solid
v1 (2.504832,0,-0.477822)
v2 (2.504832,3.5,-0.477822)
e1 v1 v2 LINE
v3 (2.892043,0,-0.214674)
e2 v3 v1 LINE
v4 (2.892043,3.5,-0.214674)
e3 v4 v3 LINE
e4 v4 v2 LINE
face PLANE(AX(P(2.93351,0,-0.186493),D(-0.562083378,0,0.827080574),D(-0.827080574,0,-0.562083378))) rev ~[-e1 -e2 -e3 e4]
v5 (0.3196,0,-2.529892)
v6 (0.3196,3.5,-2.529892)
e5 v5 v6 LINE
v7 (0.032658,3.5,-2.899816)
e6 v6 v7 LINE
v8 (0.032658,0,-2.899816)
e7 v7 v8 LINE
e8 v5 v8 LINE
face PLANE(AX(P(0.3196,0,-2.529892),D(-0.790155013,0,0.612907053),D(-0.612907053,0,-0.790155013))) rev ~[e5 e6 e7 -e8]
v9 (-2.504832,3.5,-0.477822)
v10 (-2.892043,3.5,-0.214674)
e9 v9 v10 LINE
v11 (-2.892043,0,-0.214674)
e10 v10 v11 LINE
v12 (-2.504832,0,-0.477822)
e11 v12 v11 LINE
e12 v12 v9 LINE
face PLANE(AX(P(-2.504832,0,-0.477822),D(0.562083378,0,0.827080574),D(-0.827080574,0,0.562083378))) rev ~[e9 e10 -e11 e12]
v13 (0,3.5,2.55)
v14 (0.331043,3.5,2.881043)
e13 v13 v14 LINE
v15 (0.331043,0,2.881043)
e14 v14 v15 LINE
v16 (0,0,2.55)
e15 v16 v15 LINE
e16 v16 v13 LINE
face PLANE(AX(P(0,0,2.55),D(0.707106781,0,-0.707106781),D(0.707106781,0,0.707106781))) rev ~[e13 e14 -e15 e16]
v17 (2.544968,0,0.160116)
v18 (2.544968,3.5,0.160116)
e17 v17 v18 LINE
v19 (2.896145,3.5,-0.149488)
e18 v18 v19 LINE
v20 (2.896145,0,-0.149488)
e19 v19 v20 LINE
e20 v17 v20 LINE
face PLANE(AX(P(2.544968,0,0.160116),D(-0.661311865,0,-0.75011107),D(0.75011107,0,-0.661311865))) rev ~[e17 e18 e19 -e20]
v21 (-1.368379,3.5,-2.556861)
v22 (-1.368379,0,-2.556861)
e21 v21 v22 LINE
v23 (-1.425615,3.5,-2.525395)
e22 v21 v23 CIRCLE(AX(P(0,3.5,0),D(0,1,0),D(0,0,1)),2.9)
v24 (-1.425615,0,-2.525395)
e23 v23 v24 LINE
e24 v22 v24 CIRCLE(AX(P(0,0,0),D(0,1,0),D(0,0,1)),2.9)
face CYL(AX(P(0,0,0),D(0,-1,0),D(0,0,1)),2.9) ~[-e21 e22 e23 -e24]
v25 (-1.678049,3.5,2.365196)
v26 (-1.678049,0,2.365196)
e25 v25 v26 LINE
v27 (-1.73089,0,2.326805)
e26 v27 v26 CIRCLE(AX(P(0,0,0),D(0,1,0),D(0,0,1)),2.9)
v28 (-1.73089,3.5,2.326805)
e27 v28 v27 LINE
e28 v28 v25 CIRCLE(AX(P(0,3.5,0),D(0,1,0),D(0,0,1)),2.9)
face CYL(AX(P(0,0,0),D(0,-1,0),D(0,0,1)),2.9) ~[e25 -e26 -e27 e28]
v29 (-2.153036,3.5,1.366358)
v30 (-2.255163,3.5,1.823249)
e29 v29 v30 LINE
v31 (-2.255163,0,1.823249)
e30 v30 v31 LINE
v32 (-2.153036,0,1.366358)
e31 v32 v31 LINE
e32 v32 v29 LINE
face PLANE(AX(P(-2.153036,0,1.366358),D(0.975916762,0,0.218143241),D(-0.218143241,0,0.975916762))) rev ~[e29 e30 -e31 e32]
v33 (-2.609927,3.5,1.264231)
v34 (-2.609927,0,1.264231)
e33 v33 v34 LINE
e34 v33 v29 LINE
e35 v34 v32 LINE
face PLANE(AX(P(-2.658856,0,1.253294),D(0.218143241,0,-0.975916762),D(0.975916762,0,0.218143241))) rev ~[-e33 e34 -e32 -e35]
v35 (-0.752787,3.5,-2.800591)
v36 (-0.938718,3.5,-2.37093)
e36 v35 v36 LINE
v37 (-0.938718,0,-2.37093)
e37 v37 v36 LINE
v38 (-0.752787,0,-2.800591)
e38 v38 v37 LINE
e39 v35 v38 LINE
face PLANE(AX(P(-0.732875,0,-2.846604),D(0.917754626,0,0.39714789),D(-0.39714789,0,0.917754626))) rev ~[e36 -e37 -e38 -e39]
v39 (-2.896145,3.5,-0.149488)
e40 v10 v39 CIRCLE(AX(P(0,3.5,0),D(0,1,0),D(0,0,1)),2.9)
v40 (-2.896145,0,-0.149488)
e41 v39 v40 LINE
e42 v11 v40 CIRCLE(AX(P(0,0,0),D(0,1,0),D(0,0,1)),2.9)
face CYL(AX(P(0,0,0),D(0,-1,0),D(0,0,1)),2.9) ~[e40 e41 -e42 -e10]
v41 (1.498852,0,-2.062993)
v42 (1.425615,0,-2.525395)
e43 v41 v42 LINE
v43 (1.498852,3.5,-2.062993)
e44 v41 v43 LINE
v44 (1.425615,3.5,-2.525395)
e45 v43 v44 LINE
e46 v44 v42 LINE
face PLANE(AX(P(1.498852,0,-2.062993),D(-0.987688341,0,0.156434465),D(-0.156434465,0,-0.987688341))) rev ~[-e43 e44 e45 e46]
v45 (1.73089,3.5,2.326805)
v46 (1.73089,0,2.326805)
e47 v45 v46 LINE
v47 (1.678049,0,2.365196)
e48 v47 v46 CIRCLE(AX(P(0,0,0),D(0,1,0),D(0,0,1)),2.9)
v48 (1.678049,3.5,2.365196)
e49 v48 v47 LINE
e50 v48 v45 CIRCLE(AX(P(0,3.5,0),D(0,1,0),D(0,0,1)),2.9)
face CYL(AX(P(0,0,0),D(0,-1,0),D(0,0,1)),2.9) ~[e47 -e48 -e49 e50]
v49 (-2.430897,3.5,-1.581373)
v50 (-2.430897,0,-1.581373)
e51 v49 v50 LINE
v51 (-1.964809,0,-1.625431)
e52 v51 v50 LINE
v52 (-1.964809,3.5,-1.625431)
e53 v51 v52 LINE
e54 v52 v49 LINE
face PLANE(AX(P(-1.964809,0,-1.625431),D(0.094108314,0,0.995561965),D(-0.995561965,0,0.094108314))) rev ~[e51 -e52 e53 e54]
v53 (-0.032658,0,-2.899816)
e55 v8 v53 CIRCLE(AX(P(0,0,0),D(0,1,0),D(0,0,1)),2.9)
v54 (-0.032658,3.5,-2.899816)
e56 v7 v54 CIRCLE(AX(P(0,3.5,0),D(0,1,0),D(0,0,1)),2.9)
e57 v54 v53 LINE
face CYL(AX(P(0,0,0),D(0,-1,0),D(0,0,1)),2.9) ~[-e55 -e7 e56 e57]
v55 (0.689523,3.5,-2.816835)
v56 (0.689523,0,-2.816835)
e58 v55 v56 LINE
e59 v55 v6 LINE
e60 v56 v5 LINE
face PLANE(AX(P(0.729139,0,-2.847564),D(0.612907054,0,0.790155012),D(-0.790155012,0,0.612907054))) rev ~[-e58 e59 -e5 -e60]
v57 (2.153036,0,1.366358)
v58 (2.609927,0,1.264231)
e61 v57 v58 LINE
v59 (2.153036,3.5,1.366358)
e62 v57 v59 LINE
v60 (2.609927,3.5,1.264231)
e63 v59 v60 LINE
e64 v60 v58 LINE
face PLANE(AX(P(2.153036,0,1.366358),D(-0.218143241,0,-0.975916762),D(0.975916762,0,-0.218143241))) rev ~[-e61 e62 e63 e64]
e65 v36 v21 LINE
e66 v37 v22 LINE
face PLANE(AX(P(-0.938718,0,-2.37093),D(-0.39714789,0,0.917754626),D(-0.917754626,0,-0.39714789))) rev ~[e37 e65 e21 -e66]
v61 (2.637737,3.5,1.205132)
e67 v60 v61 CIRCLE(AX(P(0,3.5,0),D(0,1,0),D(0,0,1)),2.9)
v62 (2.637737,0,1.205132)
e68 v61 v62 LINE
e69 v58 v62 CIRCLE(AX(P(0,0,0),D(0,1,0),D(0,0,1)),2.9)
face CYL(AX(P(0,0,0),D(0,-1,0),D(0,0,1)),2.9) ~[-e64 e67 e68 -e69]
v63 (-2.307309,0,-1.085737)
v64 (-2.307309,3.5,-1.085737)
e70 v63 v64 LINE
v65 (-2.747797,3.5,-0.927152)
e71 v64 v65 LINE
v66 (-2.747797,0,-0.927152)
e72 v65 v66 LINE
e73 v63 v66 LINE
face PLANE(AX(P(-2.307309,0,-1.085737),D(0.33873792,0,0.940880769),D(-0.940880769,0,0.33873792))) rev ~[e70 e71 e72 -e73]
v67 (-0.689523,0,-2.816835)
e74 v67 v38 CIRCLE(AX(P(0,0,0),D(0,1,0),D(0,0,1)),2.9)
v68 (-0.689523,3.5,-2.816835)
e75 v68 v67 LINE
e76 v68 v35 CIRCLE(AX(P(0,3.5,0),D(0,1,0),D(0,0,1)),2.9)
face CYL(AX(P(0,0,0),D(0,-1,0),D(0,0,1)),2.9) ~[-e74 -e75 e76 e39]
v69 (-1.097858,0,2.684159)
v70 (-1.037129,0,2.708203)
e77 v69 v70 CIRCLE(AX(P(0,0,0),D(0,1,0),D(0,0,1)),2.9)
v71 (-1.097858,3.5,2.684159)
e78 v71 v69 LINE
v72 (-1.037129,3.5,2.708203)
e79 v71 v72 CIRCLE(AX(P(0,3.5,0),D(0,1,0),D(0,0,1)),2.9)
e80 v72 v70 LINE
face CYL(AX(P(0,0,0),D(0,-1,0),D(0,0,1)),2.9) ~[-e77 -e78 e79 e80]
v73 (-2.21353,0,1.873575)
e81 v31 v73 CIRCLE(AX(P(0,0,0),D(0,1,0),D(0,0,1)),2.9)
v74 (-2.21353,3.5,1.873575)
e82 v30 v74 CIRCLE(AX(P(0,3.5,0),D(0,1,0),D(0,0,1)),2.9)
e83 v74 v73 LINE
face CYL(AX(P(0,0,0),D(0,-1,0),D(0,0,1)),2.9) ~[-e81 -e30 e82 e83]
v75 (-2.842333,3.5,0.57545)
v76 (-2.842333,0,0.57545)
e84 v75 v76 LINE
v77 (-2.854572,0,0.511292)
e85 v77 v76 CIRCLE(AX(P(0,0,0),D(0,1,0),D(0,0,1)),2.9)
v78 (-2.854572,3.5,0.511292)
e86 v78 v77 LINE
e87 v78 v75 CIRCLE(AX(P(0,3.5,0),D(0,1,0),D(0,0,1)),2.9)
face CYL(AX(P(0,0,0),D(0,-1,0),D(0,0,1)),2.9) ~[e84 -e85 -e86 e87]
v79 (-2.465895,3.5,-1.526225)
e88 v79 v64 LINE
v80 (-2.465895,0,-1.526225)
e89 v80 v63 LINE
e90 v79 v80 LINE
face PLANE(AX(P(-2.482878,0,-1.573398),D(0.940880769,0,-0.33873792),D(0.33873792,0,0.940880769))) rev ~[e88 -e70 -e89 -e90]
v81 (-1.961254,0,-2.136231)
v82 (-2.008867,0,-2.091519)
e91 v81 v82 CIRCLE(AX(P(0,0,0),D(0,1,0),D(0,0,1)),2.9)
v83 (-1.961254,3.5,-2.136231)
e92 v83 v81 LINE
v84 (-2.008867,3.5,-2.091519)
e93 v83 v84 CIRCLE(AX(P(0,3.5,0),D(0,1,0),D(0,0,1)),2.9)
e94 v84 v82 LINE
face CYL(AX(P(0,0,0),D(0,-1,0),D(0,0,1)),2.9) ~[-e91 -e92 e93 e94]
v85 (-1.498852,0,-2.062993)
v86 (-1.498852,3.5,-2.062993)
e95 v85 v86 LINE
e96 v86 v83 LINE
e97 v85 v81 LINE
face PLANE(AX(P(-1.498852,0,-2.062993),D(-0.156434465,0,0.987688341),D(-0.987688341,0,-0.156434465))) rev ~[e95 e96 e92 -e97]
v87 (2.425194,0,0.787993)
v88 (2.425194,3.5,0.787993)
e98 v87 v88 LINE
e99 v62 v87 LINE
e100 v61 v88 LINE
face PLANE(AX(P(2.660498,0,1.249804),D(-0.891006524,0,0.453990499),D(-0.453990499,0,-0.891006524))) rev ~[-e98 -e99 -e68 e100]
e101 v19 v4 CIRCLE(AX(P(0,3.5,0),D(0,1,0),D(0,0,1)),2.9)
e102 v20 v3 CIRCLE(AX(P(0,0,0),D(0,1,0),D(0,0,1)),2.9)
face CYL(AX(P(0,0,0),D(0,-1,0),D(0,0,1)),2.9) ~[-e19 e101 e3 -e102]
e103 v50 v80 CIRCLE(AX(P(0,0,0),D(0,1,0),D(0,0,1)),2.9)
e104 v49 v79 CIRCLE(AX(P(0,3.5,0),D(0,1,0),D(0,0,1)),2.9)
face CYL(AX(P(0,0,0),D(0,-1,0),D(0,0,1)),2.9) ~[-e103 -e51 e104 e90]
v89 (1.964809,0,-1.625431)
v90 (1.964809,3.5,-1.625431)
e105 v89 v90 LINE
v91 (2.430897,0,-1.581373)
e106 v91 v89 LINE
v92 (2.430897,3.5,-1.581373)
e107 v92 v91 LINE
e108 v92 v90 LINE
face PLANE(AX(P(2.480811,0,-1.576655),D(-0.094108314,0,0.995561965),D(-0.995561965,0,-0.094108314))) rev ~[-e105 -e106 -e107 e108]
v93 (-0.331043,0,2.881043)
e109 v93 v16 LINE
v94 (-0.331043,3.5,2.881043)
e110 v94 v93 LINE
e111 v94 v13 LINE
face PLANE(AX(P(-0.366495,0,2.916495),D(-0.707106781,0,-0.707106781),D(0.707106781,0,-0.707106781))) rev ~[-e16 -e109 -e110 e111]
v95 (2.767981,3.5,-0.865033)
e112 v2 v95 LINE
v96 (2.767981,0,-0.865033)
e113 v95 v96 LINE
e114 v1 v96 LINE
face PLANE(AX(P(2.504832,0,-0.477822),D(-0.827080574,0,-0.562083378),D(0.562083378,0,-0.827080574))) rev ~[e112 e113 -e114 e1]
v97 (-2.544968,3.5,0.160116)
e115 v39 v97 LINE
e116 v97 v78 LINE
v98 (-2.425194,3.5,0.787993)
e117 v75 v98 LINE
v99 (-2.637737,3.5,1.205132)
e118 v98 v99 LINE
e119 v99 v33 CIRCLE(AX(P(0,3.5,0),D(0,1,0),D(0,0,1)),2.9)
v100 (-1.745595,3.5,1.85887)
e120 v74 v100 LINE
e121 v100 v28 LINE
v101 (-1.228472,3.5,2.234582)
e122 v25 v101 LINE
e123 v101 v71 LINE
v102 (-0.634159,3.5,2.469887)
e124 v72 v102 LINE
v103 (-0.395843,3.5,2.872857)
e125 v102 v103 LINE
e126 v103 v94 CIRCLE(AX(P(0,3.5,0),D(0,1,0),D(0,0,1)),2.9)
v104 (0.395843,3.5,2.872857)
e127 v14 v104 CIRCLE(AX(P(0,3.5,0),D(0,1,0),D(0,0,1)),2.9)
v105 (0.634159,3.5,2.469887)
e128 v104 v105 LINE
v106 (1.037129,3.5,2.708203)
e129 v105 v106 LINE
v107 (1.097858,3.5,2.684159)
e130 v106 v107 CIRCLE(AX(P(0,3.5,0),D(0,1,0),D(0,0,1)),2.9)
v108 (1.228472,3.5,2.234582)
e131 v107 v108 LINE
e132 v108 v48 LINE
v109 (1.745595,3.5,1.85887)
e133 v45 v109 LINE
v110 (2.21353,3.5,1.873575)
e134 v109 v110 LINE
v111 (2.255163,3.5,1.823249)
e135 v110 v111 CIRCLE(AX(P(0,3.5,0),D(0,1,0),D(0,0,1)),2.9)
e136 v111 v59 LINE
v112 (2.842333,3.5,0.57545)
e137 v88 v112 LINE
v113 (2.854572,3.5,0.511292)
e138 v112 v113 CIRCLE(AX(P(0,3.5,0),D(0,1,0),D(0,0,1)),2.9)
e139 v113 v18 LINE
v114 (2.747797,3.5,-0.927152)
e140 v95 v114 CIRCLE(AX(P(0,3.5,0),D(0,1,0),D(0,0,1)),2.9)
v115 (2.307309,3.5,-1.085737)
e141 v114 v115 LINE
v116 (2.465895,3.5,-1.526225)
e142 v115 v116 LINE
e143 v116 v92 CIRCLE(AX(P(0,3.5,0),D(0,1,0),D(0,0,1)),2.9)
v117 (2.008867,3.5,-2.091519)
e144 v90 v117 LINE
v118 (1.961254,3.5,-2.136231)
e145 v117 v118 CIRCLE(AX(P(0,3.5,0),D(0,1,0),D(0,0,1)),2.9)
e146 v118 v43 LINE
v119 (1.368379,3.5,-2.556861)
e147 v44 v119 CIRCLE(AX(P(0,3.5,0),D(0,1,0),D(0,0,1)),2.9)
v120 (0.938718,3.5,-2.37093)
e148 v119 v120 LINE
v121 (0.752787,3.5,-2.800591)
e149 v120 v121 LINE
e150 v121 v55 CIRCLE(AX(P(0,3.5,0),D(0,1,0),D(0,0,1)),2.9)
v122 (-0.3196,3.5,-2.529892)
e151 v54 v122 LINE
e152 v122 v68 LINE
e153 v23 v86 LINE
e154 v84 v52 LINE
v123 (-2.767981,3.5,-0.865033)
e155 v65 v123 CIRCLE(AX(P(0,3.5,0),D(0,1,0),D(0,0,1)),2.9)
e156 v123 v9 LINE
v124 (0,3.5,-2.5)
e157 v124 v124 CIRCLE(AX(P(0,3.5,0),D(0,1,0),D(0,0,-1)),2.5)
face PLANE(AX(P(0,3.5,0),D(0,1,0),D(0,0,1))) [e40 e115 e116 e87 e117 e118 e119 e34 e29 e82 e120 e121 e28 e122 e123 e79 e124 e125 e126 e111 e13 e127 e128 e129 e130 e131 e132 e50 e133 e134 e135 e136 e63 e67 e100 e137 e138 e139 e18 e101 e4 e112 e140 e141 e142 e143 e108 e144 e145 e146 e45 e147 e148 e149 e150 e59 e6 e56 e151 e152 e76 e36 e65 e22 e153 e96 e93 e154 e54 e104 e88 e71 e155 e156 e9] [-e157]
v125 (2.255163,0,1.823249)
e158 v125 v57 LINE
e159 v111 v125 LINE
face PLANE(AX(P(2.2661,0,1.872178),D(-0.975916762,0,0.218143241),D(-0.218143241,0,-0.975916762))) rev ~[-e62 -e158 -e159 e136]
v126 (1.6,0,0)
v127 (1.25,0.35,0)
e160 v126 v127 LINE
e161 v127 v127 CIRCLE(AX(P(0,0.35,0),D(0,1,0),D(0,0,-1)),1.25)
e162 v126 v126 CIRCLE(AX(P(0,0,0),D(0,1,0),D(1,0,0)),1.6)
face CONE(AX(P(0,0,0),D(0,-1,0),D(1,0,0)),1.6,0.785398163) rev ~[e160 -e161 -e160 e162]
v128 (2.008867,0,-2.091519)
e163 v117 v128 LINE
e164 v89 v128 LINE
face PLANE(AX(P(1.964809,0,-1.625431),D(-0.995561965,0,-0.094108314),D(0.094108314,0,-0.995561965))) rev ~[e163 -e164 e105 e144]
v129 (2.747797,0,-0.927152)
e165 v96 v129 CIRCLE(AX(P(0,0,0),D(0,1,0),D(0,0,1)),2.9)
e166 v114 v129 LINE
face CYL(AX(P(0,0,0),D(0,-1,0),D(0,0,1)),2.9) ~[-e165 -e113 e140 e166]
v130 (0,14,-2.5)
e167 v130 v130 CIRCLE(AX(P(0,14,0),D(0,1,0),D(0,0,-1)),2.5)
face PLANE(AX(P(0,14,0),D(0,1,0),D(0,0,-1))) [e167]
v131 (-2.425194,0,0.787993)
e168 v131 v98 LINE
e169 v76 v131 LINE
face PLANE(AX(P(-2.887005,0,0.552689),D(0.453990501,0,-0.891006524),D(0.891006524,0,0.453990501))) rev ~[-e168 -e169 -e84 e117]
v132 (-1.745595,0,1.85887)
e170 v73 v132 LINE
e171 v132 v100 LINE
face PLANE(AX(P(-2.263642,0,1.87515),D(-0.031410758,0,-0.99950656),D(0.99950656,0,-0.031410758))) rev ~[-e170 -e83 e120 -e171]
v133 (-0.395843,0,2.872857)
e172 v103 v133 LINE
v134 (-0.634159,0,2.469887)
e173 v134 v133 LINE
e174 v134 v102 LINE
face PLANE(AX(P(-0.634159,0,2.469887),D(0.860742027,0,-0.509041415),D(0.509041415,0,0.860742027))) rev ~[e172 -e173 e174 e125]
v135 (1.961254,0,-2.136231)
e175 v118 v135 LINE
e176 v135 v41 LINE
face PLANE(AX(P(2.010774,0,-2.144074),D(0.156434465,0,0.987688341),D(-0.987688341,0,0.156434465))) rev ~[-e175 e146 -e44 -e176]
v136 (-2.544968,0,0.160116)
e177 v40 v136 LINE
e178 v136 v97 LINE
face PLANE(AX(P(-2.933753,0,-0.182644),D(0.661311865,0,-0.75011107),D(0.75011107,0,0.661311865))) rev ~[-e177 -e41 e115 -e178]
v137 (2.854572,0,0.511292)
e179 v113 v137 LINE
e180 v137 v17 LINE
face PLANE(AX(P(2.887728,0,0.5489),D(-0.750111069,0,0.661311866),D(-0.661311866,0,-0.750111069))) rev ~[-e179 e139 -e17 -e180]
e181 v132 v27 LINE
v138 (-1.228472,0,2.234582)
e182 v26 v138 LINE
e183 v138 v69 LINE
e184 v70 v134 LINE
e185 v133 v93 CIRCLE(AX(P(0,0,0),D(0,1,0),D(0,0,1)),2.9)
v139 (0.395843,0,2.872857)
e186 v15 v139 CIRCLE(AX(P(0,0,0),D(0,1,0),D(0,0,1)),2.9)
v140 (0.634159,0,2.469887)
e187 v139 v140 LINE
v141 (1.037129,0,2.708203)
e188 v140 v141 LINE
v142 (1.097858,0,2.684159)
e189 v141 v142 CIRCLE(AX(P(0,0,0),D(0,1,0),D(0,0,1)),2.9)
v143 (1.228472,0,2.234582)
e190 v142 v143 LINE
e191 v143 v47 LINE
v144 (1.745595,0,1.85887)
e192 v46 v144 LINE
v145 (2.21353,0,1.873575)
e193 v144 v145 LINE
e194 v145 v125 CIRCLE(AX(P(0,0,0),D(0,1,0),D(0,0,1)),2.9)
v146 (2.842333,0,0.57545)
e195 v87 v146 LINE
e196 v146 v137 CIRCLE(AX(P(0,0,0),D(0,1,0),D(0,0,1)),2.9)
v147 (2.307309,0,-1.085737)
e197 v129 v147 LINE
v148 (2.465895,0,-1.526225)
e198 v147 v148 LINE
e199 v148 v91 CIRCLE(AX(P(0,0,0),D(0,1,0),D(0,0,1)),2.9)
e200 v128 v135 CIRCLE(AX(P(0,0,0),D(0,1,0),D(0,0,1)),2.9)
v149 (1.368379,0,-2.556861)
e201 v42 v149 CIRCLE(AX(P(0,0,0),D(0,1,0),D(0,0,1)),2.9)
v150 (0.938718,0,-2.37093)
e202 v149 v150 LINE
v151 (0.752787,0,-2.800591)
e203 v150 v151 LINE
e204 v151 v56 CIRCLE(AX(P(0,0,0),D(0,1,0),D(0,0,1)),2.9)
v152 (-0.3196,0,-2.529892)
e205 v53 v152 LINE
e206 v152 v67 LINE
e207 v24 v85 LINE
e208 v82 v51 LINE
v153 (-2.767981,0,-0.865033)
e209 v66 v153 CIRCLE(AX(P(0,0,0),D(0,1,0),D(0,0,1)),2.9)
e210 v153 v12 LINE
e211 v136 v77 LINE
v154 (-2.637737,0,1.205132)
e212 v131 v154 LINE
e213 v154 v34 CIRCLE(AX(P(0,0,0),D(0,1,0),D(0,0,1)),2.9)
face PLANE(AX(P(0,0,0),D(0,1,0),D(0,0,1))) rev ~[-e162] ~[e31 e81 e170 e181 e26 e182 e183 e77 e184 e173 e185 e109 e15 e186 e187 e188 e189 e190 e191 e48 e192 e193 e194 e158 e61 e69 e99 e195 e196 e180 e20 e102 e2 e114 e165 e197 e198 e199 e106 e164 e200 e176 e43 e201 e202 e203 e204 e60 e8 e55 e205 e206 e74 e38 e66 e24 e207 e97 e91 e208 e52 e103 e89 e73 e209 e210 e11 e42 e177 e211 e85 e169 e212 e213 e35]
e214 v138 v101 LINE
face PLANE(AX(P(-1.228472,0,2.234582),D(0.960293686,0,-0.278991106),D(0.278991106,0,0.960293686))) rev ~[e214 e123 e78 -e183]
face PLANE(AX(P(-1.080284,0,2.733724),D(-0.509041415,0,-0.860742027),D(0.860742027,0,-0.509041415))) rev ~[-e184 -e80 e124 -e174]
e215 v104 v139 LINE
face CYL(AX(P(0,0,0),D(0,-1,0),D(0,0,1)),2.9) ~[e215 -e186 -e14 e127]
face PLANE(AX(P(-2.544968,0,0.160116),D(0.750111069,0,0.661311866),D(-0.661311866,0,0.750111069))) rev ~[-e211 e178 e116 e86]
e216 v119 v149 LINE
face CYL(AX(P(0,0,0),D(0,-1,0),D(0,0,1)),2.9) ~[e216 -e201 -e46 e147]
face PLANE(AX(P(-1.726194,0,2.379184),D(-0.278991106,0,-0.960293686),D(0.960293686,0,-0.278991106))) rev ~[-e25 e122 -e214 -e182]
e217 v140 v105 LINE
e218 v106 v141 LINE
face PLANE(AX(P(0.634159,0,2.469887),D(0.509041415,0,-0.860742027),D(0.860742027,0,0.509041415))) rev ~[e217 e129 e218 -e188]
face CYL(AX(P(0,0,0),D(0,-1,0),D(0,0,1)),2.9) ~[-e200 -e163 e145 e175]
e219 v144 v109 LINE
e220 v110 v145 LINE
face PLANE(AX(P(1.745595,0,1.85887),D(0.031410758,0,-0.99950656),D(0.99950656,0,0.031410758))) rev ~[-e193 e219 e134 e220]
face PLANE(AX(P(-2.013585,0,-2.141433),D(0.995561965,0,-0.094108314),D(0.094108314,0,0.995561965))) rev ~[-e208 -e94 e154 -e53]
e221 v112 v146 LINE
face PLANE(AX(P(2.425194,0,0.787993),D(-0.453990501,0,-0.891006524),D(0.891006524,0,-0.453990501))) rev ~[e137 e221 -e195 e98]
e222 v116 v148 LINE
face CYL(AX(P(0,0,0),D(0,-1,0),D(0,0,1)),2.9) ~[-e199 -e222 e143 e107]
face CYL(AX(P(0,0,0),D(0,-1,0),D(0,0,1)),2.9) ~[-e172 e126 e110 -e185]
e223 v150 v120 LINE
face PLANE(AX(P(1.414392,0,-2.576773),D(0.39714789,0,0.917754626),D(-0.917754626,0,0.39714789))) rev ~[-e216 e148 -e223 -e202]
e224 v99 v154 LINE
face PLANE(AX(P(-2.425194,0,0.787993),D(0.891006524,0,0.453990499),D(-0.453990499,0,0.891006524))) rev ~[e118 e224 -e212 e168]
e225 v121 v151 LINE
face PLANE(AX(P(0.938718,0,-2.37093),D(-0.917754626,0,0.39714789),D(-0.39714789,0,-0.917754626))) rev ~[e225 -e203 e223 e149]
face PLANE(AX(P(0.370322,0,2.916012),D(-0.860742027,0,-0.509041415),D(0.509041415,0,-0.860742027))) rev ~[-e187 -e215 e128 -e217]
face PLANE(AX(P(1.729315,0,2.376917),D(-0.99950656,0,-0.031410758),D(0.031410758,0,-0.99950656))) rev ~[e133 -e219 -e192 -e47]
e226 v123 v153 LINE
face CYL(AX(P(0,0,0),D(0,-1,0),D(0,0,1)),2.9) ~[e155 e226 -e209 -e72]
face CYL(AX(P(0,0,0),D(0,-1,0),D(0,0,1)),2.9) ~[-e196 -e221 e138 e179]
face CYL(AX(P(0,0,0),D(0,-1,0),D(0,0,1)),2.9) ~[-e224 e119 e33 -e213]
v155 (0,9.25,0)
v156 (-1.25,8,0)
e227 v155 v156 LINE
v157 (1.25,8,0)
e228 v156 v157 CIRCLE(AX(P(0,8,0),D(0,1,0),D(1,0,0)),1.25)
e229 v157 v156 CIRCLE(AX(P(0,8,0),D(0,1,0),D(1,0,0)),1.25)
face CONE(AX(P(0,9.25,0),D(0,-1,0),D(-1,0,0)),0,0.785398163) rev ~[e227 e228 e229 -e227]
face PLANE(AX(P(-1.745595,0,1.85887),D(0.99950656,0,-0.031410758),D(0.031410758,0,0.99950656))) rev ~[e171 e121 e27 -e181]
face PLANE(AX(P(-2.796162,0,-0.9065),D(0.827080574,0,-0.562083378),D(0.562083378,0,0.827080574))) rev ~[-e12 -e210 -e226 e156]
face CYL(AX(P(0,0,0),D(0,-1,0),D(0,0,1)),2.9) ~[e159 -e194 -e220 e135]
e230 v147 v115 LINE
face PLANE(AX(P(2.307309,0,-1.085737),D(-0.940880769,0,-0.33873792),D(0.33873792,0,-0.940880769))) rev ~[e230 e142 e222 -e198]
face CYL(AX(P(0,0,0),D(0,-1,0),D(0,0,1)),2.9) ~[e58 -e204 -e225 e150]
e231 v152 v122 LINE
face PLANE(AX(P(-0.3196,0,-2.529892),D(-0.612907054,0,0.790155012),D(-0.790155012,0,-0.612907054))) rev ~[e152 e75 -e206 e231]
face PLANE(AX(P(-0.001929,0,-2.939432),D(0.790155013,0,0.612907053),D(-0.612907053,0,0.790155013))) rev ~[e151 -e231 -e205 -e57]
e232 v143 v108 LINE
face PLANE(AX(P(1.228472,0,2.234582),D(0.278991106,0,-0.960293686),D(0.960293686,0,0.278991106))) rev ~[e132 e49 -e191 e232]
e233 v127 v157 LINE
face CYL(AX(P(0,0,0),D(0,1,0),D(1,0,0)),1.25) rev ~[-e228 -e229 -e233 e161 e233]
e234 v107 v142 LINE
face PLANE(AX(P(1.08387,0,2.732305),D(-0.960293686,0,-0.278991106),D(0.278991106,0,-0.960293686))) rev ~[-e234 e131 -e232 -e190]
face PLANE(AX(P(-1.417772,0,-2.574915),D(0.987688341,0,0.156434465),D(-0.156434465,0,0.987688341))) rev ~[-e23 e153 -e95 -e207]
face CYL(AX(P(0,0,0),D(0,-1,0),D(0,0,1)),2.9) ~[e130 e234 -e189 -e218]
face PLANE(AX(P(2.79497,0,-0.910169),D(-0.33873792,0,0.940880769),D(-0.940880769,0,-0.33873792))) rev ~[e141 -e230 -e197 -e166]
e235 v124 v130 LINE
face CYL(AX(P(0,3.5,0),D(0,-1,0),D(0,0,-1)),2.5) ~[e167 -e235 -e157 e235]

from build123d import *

# Parameters (mm, degrees)
SKETCH_1_R                   = 2.9
EXTRUDE_1_DEPTH              = 3.5
SKETCH_2_R                   = 2.5
EXTRUDE_2_DEPTH              = 10.5
CUT_EXTRUDE_1_DEPTH          = 3.5
HOLE_WIZARD_M3_1_D           = 2.5
HOLE_WIZARD_M3_1_DEPTH       = 8
HOLE_WIZARD_M3_1_CSINK_D     = 3.2
HOLE_WIZARD_M3_1_CSINK_ANGLE = 90
HOLE_WIZARD_M3_1_TIP         = 1.25


with BuildPart() as part:
    # 草图1 → 凸台-拉伸1 (new body)
    with BuildSketch(Plane(origin=(0, 0, 0), x_dir=(1, 0, 0), z_dir=(0, 1, 0))):
        with Locations(Location((0, 0, 0), (0, 0, 270))):
            Circle(SKETCH_1_R)
    extrude(amount=EXTRUDE_1_DEPTH)

    # 草图2 → 凸台-拉伸2 (add)
    with BuildSketch(Plane(origin=(0, 3.5, 0), x_dir=(1, 0, 0), z_dir=(0, 1, 0))):
        with Locations(Location((0, 0, 0), (0, 0, 90))):
            Circle(SKETCH_2_R)
    extrude(amount=EXTRUDE_2_DEPTH)

    # 草图3 → 切除-拉伸1 (cut)
    with BuildSketch(Plane.XZ):
        Polygon((0, 2.55), (0.366495157, 2.916495157), (-0.366495157, 2.916495157), align=None)
        Polygon((0.634159212, 2.469887061), (1.080283889, 2.733724459), (0.370321814, 2.916011738), align=None)
        Polygon((1.228471869, 2.234582034), (1.726194412, 2.3791838), (1.083870103, 2.732304577), align=None)
        Polygon((1.74559512, 1.85887), (2.263641791, 1.875150272), (1.729314848, 2.37691667), align=None)
        Polygon((2.15303621, 1.366358327), (2.658856231, 1.253294157), (2.26610038, 1.872178348), align=None)
        Polygon((2.425194117, 0.787993336), (2.887004956, 0.55268896), (2.660498492, 1.249804175), align=None)
        Polygon((2.544968157, 0.160115825), (2.933752541, -0.182643716), (2.887727699, 0.548900209), align=None)
        Polygon((2.504832489, -0.477822352), (2.796161665, -0.906500217), (2.933510354, -0.186493176), align=None)
        Polygon((2.307308984, -1.085737193), (2.482877668, -1.573397974), (2.794969765, -0.910168509), align=None)
        Polygon((1.964808769, -1.625431174), (2.013585336, -2.141433351), (2.480810946, -1.576654607), align=None)
        Polygon((1.498852393, -2.062993336), (1.417772031, -2.574914594), (2.010773652, -2.144073698), align=None)
        Polygon((0.938717609, -2.370930039), (0.732874896, -2.846604484), (1.414392054, -2.576772752), align=None)
        Polygon((0.319599746, -2.529892488), (0.001928536, -2.939431745), (0.729139002, -2.847563698), align=None)
        Polygon((-0.319599746, -2.529892488), (-0.729139002, -2.847563698), (-0.001928536, -2.939431745), align=None)
        Polygon((-0.938717609, -2.370930039), (-1.414392054, -2.576772752), (-0.732874896, -2.846604484), align=None)
        Polygon((-1.498852393, -2.062993336), (-2.010773652, -2.144073698), (-1.417772031, -2.574914594), align=None)
        Polygon((-1.964808769, -1.625431174), (-2.480810946, -1.576654607), (-2.013585336, -2.141433351), align=None)
        Polygon((-2.307308984, -1.085737193), (-2.794969765, -0.910168509), (-2.482877668, -1.573397974), align=None)
        Polygon((-2.504832489, -0.477822352), (-2.933510354, -0.186493176), (-2.796161665, -0.906500217), align=None)
        Polygon((-2.544968157, 0.160115825), (-2.887727699, 0.548900209), (-2.933752541, -0.182643716), align=None)
        Polygon((-2.425194117, 0.787993336), (-2.660498492, 1.249804175), (-2.887004956, 0.55268896), align=None)
        Polygon((-2.15303621, 1.366358327), (-2.26610038, 1.872178348), (-2.658856231, 1.253294157), align=None)
        Polygon((-1.74559512, 1.85887), (-1.729314848, 2.37691667), (-2.263641791, 1.875150272), align=None)
        Polygon((-1.228471869, 2.234582034), (-1.083870103, 2.732304577), (-1.726194412, 2.3791838), align=None)
        Polygon((-0.634159212, 2.469887061), (-0.370321814, 2.916011738), (-1.080283889, 2.733724459), align=None)
    extrude(amount=-CUT_EXTRUDE_1_DEPTH, mode=Mode.SUBTRACT)

    # M3 螺旋的螺纹孔钻头1
    with Locations(Plane(origin=(0, 0, 0), x_dir=(-1, 0, 0), z_dir=(0, -1, 0))):
        with Locations((0, 0)):
            CounterSinkHole(HOLE_WIZARD_M3_1_D / 2, HOLE_WIZARD_M3_1_CSINK_D / 2, depth=HOLE_WIZARD_M3_1_DEPTH, counter_sink_angle=HOLE_WIZARD_M3_1_CSINK_ANGLE)
            with Locations((0, 0, -(HOLE_WIZARD_M3_1_DEPTH + HOLE_WIZARD_M3_1_TIP / 2))):  # 90° drill point
                Cone(0, HOLE_WIZARD_M3_1_D / 2, HOLE_WIZARD_M3_1_TIP, mode=Mode.SUBTRACT)


solid = part.part
